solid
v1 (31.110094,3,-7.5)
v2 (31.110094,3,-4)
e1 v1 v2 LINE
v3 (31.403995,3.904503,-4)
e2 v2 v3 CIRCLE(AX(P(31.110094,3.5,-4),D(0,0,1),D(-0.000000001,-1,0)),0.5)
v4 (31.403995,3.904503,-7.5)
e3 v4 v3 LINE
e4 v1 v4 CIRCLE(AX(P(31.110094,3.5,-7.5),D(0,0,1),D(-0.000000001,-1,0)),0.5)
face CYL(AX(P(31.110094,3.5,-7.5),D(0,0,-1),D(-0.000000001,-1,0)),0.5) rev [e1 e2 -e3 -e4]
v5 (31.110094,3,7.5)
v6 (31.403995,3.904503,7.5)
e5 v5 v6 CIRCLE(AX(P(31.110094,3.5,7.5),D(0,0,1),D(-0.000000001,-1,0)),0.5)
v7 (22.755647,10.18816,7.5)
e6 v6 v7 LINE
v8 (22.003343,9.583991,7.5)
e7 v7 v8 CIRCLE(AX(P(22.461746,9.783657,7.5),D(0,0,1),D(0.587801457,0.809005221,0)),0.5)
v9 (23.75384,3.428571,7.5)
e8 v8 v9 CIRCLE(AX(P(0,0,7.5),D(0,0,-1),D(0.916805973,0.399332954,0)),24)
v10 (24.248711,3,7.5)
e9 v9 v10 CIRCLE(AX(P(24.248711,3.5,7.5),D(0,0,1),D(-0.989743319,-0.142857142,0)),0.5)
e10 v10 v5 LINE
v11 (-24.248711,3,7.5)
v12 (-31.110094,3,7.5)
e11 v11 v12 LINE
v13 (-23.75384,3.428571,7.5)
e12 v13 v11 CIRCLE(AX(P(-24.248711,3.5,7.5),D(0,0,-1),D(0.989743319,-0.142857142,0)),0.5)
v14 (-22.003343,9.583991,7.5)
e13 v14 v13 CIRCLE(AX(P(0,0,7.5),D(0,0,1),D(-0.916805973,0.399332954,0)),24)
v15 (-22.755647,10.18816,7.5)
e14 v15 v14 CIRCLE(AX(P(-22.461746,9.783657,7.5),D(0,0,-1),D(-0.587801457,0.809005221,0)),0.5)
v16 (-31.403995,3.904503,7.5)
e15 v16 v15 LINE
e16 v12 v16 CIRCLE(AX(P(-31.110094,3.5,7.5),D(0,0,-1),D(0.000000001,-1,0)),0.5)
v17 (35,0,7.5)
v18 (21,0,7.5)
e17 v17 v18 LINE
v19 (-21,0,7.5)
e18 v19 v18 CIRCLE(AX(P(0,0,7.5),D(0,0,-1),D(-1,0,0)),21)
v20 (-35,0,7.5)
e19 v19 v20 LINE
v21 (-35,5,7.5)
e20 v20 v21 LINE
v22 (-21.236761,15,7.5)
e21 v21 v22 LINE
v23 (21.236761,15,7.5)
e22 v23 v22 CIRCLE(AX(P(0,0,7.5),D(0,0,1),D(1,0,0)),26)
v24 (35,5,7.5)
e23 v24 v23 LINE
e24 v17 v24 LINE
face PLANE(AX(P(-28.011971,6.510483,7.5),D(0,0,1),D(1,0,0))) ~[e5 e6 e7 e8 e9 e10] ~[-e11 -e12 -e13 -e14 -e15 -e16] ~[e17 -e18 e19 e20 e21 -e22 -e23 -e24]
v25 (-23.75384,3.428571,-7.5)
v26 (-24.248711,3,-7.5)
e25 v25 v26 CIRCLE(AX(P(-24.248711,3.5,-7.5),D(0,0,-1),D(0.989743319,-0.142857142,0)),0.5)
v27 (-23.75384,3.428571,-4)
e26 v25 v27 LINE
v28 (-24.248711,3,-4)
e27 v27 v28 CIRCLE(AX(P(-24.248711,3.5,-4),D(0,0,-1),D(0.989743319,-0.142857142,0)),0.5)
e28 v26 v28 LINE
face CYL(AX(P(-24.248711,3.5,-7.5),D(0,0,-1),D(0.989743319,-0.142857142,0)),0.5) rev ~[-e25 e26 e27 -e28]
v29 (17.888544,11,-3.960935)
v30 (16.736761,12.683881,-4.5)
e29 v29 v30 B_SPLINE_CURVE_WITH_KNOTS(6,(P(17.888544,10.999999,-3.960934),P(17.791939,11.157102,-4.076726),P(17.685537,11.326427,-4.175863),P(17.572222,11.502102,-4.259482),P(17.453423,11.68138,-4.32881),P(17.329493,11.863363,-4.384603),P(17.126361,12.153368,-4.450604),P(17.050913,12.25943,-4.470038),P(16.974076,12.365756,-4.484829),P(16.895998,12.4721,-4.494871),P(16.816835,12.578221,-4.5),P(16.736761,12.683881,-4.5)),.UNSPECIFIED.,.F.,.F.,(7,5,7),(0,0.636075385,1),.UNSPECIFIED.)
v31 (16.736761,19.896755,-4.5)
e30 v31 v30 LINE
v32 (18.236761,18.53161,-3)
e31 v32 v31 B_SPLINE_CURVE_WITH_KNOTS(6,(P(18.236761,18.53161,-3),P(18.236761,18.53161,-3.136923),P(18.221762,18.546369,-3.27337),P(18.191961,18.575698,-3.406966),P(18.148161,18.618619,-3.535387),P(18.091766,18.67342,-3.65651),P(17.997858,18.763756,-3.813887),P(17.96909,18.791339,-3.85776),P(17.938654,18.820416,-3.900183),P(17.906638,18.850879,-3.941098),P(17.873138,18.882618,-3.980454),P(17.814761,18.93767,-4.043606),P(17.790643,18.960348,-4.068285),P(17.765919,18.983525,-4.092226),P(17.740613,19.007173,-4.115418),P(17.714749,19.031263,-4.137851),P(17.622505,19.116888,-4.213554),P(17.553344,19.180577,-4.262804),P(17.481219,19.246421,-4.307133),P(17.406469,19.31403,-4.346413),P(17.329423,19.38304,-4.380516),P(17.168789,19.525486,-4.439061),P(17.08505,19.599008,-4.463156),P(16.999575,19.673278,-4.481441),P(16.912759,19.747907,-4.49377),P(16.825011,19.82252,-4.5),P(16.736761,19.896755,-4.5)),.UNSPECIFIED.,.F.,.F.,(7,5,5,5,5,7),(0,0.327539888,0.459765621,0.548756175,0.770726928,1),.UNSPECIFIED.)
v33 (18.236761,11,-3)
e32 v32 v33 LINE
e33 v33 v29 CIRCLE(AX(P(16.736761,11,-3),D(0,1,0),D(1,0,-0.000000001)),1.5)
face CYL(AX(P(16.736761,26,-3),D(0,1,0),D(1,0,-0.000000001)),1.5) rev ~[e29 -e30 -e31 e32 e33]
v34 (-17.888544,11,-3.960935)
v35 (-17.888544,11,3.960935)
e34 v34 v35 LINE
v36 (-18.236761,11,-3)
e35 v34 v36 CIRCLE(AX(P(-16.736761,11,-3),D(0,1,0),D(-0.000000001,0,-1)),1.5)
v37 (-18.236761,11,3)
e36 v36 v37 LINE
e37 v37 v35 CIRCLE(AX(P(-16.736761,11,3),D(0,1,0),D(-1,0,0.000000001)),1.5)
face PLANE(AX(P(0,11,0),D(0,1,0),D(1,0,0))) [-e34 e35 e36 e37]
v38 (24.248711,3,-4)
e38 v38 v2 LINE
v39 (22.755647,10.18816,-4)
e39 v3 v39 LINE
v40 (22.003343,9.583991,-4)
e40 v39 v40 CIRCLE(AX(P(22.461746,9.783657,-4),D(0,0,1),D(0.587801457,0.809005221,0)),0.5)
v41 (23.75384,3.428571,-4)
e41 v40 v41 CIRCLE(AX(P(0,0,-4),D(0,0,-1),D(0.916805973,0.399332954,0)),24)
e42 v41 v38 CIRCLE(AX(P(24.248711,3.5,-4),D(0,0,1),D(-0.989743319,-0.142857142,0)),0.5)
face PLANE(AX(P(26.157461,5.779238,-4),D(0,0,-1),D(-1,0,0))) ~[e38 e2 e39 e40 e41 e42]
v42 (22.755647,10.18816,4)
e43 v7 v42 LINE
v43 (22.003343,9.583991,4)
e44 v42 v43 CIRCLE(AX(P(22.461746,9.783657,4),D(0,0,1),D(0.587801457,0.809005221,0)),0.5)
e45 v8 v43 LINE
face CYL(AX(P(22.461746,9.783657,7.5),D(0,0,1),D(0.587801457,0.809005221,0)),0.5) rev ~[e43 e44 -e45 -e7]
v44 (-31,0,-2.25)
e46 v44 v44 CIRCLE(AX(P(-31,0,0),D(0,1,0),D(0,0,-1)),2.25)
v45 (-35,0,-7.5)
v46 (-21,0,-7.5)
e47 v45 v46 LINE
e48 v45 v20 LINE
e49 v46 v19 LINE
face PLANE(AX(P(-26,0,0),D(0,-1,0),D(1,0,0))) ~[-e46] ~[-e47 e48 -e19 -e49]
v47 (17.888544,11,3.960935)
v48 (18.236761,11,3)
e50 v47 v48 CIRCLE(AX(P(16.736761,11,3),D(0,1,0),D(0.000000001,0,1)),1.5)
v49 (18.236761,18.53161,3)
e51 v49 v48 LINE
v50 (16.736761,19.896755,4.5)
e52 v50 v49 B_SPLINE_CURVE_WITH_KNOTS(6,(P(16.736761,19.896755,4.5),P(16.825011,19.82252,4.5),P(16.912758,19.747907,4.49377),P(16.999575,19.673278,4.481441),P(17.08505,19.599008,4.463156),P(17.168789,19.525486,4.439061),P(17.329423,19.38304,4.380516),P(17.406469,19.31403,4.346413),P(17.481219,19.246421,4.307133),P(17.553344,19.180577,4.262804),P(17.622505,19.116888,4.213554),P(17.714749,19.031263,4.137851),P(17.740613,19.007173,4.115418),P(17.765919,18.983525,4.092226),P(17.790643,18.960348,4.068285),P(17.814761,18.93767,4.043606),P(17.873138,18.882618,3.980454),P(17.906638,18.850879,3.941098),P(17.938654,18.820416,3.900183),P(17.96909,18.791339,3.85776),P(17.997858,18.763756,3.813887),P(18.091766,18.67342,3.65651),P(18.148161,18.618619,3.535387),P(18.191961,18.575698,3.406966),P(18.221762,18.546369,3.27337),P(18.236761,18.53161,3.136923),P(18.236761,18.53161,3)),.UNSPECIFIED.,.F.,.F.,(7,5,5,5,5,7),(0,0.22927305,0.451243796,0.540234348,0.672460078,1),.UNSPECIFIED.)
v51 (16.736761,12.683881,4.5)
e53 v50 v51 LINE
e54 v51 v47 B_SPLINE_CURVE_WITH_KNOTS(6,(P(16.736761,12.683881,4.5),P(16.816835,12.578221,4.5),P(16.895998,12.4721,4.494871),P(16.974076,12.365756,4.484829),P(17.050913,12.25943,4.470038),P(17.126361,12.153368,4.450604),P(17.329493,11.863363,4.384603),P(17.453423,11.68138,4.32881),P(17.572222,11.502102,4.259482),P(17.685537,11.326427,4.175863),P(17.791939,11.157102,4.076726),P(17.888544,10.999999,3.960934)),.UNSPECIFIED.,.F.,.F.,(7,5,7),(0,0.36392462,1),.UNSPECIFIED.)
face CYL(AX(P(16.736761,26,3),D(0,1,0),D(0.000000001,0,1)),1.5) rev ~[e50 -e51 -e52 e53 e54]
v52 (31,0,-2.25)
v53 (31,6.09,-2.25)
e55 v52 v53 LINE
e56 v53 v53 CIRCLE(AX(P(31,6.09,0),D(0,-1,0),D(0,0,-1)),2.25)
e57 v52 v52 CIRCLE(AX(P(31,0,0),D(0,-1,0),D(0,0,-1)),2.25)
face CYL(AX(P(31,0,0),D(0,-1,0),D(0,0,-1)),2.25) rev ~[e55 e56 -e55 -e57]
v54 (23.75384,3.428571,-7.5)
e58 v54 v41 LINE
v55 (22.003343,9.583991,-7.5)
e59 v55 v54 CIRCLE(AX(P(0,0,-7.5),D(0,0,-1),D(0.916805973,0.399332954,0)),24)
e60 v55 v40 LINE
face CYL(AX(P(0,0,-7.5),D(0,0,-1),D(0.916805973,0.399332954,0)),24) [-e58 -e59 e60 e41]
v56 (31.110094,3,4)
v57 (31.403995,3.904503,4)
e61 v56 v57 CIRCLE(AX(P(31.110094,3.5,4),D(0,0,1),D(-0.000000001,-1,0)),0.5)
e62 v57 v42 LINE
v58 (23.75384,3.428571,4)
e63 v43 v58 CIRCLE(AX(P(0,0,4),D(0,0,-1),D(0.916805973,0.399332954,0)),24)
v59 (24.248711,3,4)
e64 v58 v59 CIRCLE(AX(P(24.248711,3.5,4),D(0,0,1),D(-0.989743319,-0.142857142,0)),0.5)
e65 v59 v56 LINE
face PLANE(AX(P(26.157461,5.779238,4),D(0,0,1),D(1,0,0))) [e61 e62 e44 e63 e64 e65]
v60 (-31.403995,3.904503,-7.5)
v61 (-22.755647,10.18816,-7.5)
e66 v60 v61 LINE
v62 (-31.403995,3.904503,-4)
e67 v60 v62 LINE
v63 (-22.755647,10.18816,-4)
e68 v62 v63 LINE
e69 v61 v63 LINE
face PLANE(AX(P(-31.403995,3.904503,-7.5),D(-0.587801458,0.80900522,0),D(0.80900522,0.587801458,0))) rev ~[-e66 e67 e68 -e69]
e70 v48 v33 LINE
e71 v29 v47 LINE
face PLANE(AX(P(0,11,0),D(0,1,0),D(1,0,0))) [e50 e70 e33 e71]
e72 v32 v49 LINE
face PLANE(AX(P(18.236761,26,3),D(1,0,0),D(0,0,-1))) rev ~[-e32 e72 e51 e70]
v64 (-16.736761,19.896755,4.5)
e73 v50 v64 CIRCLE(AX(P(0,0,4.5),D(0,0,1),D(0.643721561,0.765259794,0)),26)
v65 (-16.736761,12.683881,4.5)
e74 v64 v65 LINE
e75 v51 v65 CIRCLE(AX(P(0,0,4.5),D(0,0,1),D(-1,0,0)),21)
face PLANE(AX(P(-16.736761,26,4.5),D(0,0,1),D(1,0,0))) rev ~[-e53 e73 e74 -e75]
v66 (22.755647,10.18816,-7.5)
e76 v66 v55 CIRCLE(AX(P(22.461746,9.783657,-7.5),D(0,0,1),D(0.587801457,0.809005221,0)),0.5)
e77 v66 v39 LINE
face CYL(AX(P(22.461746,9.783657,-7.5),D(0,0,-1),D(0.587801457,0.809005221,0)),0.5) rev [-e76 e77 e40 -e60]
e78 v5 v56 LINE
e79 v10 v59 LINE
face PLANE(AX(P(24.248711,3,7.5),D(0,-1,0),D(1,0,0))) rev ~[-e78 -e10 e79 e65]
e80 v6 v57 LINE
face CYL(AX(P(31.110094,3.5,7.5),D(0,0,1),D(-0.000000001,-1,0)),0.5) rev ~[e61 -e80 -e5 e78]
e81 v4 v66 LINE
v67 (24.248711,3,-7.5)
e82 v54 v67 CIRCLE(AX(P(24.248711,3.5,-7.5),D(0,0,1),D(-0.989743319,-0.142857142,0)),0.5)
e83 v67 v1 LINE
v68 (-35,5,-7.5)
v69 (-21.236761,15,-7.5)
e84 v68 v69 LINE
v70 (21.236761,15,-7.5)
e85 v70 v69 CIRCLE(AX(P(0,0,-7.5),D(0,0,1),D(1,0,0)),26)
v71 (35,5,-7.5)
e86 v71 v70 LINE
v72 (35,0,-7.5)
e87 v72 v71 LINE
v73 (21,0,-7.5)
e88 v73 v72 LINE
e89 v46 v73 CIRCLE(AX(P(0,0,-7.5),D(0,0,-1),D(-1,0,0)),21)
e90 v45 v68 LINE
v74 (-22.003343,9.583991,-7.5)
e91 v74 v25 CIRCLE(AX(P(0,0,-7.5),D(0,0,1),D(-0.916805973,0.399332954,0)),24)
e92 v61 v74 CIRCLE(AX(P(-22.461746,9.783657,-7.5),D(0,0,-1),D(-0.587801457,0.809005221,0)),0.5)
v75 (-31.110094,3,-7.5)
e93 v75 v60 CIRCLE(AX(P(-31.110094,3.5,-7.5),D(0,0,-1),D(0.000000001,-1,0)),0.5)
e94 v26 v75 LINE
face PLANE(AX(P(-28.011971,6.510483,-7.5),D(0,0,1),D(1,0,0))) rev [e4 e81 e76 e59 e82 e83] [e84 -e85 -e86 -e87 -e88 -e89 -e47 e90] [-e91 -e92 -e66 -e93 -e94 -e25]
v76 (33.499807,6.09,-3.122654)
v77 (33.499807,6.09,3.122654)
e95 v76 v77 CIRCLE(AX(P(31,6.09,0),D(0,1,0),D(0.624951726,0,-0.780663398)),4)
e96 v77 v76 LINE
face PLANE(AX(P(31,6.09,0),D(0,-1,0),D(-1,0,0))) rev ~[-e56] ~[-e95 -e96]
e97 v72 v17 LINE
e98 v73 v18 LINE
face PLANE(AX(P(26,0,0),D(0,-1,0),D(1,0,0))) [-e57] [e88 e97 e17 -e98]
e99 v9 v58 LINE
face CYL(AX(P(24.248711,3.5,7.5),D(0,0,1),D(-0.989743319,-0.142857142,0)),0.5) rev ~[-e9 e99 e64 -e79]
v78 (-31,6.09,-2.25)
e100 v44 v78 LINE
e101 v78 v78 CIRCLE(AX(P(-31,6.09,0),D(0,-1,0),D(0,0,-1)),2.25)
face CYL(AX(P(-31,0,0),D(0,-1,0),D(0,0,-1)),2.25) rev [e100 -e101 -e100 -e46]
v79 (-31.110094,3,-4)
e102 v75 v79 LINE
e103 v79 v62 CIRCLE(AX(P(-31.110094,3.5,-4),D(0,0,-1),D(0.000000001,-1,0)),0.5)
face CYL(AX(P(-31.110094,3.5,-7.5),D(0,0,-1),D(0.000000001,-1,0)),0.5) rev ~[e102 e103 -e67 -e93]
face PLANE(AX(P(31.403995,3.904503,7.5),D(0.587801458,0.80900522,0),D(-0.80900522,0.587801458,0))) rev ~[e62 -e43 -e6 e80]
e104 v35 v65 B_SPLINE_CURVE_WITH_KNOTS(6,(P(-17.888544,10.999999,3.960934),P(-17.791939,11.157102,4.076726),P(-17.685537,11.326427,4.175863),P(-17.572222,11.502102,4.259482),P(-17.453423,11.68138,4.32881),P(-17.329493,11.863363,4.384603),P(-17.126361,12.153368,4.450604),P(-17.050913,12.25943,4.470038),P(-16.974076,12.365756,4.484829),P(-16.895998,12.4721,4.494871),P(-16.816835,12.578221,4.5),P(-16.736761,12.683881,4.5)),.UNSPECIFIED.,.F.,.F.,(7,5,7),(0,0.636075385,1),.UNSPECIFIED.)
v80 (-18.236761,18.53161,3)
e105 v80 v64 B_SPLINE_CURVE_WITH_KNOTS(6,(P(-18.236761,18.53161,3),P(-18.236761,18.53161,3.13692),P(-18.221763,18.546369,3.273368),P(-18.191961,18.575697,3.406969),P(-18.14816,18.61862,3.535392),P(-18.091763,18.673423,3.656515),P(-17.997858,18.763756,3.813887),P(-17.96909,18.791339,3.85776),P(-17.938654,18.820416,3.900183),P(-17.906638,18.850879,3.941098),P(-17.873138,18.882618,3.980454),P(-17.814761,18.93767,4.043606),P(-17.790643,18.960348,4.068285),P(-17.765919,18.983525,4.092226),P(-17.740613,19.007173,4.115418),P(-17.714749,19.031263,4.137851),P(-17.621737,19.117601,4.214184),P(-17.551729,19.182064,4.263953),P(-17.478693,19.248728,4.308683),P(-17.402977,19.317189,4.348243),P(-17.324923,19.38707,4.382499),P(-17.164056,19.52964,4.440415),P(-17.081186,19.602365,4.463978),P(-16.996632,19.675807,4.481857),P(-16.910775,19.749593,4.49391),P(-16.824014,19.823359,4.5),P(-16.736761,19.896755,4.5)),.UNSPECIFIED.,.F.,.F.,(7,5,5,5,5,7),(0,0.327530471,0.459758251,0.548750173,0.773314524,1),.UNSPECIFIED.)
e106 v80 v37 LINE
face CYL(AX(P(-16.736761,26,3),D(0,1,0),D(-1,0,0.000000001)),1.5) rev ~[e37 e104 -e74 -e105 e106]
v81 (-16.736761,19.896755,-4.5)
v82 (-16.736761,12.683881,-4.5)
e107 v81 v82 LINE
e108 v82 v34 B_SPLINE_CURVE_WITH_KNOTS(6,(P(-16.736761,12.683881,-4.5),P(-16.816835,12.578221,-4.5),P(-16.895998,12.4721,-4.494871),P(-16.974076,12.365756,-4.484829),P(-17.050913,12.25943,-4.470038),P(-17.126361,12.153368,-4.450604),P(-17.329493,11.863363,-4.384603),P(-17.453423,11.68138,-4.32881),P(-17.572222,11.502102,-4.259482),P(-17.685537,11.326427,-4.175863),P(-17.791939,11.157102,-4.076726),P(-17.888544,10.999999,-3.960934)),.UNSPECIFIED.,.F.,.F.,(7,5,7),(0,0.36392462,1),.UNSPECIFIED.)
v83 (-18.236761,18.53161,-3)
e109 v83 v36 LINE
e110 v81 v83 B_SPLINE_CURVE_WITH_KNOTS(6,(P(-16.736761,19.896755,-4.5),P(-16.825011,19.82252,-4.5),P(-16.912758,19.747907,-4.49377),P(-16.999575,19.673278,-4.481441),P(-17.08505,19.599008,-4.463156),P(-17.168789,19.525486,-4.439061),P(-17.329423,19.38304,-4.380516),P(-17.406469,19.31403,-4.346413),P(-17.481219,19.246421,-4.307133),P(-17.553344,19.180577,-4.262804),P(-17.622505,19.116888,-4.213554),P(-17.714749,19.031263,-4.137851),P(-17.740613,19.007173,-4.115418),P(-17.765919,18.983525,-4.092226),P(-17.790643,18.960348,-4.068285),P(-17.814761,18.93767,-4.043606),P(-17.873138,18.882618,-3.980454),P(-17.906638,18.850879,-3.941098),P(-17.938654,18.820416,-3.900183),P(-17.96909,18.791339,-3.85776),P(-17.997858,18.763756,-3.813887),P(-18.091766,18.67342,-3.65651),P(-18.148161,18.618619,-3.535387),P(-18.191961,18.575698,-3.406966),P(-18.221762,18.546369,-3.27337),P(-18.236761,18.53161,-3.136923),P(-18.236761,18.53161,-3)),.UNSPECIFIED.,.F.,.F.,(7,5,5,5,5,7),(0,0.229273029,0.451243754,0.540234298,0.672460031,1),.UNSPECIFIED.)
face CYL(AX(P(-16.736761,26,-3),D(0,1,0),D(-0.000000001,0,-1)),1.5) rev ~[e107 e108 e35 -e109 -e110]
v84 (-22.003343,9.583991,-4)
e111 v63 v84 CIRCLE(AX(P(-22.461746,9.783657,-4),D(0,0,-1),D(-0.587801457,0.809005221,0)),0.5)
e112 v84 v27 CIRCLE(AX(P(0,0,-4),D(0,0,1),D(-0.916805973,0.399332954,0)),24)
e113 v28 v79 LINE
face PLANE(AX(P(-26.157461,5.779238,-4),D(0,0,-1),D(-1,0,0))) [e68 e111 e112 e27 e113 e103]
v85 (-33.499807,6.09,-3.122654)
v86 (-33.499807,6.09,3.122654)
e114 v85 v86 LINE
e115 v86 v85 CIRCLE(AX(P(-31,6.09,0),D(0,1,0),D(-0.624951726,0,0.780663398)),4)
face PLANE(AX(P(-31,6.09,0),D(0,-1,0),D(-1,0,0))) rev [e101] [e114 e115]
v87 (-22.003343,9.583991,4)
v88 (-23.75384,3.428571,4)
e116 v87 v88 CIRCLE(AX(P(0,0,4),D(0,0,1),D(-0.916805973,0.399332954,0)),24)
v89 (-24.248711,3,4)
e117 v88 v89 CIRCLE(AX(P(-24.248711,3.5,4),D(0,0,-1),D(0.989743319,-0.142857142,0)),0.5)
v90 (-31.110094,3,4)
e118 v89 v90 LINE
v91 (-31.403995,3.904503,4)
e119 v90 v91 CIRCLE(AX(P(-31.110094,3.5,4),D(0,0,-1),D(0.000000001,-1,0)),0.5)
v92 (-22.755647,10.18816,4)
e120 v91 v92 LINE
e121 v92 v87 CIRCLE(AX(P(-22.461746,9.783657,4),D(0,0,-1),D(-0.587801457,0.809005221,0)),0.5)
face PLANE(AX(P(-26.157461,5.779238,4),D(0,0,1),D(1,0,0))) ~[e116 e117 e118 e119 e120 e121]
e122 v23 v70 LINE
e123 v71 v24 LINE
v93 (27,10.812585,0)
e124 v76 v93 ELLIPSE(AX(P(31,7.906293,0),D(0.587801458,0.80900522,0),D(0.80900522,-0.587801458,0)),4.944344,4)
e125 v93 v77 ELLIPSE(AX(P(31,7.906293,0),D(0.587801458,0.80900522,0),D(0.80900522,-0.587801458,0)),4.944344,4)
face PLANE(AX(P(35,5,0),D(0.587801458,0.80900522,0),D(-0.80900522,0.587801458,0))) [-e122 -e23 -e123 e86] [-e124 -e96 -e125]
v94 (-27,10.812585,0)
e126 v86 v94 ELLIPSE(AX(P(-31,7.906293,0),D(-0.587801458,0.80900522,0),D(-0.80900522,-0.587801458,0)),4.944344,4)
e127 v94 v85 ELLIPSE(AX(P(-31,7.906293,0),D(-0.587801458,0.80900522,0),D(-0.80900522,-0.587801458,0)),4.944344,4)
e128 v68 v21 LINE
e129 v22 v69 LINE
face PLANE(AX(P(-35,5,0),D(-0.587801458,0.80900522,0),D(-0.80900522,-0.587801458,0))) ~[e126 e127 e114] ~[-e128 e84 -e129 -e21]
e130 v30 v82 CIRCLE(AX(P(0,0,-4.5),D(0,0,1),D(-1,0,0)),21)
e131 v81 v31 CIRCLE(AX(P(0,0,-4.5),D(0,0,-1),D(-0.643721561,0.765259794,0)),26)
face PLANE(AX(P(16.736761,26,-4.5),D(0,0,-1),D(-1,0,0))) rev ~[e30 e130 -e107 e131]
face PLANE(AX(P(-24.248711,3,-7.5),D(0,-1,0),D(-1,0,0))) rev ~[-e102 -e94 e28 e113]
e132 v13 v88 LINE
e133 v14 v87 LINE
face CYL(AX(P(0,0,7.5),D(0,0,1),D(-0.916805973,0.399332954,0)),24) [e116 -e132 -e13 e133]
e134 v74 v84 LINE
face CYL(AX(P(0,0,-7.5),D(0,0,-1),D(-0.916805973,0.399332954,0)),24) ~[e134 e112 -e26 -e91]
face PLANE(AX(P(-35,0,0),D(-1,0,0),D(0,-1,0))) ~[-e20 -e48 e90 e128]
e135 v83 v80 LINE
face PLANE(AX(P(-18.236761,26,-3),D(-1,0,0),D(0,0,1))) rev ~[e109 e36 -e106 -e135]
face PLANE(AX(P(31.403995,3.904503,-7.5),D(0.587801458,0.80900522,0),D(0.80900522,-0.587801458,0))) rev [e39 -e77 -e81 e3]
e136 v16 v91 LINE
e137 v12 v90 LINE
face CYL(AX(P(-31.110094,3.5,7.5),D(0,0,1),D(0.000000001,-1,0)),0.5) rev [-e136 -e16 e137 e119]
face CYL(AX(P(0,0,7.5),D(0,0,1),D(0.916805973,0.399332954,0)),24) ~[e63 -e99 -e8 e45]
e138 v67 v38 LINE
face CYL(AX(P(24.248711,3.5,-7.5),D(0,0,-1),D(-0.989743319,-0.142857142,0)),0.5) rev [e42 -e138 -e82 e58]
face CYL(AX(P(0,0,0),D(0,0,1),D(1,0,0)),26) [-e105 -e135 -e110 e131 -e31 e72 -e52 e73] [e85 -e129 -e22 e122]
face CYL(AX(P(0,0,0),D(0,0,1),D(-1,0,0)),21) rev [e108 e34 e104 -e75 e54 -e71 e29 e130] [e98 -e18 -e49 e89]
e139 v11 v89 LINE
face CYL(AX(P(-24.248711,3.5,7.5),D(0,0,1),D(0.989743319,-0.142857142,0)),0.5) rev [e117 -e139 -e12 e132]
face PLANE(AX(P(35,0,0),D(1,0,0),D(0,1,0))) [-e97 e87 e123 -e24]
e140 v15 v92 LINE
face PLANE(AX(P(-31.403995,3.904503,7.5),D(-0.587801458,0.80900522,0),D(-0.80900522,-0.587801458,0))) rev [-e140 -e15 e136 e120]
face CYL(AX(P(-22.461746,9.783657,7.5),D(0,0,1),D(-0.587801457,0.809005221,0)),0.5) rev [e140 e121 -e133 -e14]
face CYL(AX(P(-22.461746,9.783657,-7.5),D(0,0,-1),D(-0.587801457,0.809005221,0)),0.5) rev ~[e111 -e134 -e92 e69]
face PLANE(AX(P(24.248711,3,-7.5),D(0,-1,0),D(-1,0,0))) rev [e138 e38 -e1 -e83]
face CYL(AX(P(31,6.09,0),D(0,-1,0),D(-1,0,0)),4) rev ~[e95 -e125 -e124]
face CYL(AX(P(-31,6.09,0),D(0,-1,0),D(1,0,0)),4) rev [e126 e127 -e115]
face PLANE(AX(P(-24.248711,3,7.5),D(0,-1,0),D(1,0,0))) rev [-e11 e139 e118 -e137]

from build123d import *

# Parameters (mm, degrees)
SALIENTE_EXTRUIR1_DEPTH = 7.5
SALIENTE_EXTRUIR2_DEPTH = 7.5
CROQUIS3_R              = 2.25
CORTAR_EXTRUIR1_DEPTH   = 45.240818256
CROQUIS4_R              = 4
CORTAR_EXTRUIR2_DEPTH   = 41.959224846
CORTAR_EXTRUIR3_DEPTH   = 3.5
CORTAR_EXTRUIR4_DEPTH   = 15
SIMETR_A3_COPY_1_DEPTH  = 3.5


with BuildPart() as part:
    # Croquis1 → Saliente-Extruir1 (new, symmetric)
    with BuildSketch(Plane.XY):
        with BuildLine():
            Line((-26, 0), (-21, 0))
            ThreePointArc((-21, 0), (0, 21), (21, 0))
            Line((21, 0), (26, 0))
            ThreePointArc((26, 0), (0, 26), (-26, 0))
        make_face()
    extrude(amount=SALIENTE_EXTRUIR1_DEPTH, both=True)

    # Croquis2 → Saliente-Extruir2 (add, symmetric)
    with BuildSketch(Plane.XY):
        with BuildLine():
            Line((26, 0), (35, 0))
            Line((35, 0), (35, 5))
            Line((35, 5), (21.236760582, 15))
            ThreePointArc((21.236760582, 15), (24.78059498, 7.869060455), (26, 0))
        make_face()
    saliente_extruir2 = extrude(amount=SALIENTE_EXTRUIR2_DEPTH, both=True)

    # Croquis3 → Cortar-Extruir1 (cut, through all)
    with BuildSketch(Plane.XZ):
        with Locations(Location((31, 0, 0), (0, 0, 270))):
            Circle(CROQUIS3_R)
    cortar_extruir1 = extrude(amount=-CORTAR_EXTRUIR1_DEPTH, mode=Mode.SUBTRACT)

    # Croquis4 → Cortar-Extruir2 (cut, through all)
    with BuildSketch(Plane(origin=(0, 6.09, 0), x_dir=(-1, 0, 0), z_dir=(0, -1, 0))):
        with Locations((-31, 0)):
            Circle(CROQUIS4_R)
    cortar_extruir2 = extrude(amount=-CORTAR_EXTRUIR2_DEPTH, mode=Mode.SUBTRACT)

    # Simetría1: Saliente-Extruir2, Cortar-Extruir1, Cortar-Extruir2 across plane
    add(saliente_extruir2.mirror(Plane(origin=(0, 0, 0), x_dir=(0, 0, 1), z_dir=(1, 0, 0))))
    add(cortar_extruir1.mirror(Plane(origin=(0, 0, 0), x_dir=(0, 0, 1), z_dir=(1, 0, 0))), mode=Mode.SUBTRACT)
    add(cortar_extruir2.mirror(Plane(origin=(0, 0, 0), x_dir=(0, 0, 1), z_dir=(1, 0, 0))), mode=Mode.SUBTRACT)

    # Croquis6 → Cortar-Extruir3 (cut)
    with BuildSketch(Plane.XY.offset(7.5)):
        with BuildLine():
            Line((31.403995152, 3.90450261), (22.755647062, 10.188159987))
            ThreePointArc((22.755647062, 10.188159987), (22.148664364, 10.17350309), (22.003343347, 9.5839909))
            ThreePointArc((22.003343347, 9.5839909), (23.084675568, 6.564887959), (23.753839647, 3.428571429))
            ThreePointArc((23.753839647, 3.428571429), (23.921384471, 3.122035527), (24.248711306, 3))
            Line((24.248711306, 3), (31.110094423, 3))
            ThreePointArc((31.110094423, 3), (31.585621134, 3.34548674), (31.403995152, 3.90450261))
        make_face()
    cortar_extruir3 = extrude(amount=-CORTAR_EXTRUIR3_DEPTH, mode=Mode.SUBTRACT)

    # Simetría2: Cortar-Extruir3 across plane
    add(cortar_extruir3.mirror(Plane.XY), mode=Mode.SUBTRACT)

    # Croquis8 → Cortar-Extruir4 (cut)
    with BuildSketch(Plane(origin=(0, 26, 0), x_dir=(1, 0, 0), z_dir=(0, 1, 0))):
        with BuildLine():
            Line((-16.736760582, -4.5), (16.736760582, -4.5))
            ThreePointArc((16.736760582, -4.5), (17.797420753, -4.060660172), (18.236760582, -3))
            Line((18.236760582, -3), (18.236760582, 3))
            ThreePointArc((18.236760582, 3), (17.797420753, 4.060660172), (16.736760582, 4.5))
            Line((16.736760582, 4.5), (-16.736760582, 4.5))
            ThreePointArc((-16.736760582, 4.5), (-17.797420753, 4.060660172), (-18.236760582, 3))
            Line((-18.236760582, 3), (-18.236760582, -3))
            ThreePointArc((-18.236760582, -3), (-17.797420753, -4.060660172), (-16.736760582, -4.5))
        make_face()
    extrude(amount=-CORTAR_EXTRUIR4_DEPTH, mode=Mode.SUBTRACT)

    # Simetría3: Cortar-Extruir3 across plane
    add(cortar_extruir3.mirror(Plane(origin=(0, 0, 0), x_dir=(0, 0, 1), z_dir=(1, 0, 0))), mode=Mode.SUBTRACT)

    # Simetría3 copy 1 sketch → Simetría3 copy 1 (cut)
    with BuildSketch(Plane(origin=(0, 0, -7.5), x_dir=(-1, 0, 0), z_dir=(0, 0, -1))):
        with BuildLine():
            Line((31.403995152, 3.90450261), (22.755647062, 10.188159987))
            ThreePointArc((22.755647062, 10.188159987), (22.148664364, 10.17350309), (22.003343347, 9.5839909))
            ThreePointArc((22.003343347, 9.5839909), (23.084675568, 6.564887959), (23.753839647, 3.428571429))
            ThreePointArc((23.753839647, 3.428571429), (23.921384471, 3.122035527), (24.248711306, 3))
            Line((24.248711306, 3), (31.110094423, 3))
            ThreePointArc((31.110094423, 3), (31.585621134, 3.34548674), (31.403995152, 3.90450261))
        make_face()
    extrude(amount=-SIMETR_A3_COPY_1_DEPTH, mode=Mode.SUBTRACT)


solid = part.part
